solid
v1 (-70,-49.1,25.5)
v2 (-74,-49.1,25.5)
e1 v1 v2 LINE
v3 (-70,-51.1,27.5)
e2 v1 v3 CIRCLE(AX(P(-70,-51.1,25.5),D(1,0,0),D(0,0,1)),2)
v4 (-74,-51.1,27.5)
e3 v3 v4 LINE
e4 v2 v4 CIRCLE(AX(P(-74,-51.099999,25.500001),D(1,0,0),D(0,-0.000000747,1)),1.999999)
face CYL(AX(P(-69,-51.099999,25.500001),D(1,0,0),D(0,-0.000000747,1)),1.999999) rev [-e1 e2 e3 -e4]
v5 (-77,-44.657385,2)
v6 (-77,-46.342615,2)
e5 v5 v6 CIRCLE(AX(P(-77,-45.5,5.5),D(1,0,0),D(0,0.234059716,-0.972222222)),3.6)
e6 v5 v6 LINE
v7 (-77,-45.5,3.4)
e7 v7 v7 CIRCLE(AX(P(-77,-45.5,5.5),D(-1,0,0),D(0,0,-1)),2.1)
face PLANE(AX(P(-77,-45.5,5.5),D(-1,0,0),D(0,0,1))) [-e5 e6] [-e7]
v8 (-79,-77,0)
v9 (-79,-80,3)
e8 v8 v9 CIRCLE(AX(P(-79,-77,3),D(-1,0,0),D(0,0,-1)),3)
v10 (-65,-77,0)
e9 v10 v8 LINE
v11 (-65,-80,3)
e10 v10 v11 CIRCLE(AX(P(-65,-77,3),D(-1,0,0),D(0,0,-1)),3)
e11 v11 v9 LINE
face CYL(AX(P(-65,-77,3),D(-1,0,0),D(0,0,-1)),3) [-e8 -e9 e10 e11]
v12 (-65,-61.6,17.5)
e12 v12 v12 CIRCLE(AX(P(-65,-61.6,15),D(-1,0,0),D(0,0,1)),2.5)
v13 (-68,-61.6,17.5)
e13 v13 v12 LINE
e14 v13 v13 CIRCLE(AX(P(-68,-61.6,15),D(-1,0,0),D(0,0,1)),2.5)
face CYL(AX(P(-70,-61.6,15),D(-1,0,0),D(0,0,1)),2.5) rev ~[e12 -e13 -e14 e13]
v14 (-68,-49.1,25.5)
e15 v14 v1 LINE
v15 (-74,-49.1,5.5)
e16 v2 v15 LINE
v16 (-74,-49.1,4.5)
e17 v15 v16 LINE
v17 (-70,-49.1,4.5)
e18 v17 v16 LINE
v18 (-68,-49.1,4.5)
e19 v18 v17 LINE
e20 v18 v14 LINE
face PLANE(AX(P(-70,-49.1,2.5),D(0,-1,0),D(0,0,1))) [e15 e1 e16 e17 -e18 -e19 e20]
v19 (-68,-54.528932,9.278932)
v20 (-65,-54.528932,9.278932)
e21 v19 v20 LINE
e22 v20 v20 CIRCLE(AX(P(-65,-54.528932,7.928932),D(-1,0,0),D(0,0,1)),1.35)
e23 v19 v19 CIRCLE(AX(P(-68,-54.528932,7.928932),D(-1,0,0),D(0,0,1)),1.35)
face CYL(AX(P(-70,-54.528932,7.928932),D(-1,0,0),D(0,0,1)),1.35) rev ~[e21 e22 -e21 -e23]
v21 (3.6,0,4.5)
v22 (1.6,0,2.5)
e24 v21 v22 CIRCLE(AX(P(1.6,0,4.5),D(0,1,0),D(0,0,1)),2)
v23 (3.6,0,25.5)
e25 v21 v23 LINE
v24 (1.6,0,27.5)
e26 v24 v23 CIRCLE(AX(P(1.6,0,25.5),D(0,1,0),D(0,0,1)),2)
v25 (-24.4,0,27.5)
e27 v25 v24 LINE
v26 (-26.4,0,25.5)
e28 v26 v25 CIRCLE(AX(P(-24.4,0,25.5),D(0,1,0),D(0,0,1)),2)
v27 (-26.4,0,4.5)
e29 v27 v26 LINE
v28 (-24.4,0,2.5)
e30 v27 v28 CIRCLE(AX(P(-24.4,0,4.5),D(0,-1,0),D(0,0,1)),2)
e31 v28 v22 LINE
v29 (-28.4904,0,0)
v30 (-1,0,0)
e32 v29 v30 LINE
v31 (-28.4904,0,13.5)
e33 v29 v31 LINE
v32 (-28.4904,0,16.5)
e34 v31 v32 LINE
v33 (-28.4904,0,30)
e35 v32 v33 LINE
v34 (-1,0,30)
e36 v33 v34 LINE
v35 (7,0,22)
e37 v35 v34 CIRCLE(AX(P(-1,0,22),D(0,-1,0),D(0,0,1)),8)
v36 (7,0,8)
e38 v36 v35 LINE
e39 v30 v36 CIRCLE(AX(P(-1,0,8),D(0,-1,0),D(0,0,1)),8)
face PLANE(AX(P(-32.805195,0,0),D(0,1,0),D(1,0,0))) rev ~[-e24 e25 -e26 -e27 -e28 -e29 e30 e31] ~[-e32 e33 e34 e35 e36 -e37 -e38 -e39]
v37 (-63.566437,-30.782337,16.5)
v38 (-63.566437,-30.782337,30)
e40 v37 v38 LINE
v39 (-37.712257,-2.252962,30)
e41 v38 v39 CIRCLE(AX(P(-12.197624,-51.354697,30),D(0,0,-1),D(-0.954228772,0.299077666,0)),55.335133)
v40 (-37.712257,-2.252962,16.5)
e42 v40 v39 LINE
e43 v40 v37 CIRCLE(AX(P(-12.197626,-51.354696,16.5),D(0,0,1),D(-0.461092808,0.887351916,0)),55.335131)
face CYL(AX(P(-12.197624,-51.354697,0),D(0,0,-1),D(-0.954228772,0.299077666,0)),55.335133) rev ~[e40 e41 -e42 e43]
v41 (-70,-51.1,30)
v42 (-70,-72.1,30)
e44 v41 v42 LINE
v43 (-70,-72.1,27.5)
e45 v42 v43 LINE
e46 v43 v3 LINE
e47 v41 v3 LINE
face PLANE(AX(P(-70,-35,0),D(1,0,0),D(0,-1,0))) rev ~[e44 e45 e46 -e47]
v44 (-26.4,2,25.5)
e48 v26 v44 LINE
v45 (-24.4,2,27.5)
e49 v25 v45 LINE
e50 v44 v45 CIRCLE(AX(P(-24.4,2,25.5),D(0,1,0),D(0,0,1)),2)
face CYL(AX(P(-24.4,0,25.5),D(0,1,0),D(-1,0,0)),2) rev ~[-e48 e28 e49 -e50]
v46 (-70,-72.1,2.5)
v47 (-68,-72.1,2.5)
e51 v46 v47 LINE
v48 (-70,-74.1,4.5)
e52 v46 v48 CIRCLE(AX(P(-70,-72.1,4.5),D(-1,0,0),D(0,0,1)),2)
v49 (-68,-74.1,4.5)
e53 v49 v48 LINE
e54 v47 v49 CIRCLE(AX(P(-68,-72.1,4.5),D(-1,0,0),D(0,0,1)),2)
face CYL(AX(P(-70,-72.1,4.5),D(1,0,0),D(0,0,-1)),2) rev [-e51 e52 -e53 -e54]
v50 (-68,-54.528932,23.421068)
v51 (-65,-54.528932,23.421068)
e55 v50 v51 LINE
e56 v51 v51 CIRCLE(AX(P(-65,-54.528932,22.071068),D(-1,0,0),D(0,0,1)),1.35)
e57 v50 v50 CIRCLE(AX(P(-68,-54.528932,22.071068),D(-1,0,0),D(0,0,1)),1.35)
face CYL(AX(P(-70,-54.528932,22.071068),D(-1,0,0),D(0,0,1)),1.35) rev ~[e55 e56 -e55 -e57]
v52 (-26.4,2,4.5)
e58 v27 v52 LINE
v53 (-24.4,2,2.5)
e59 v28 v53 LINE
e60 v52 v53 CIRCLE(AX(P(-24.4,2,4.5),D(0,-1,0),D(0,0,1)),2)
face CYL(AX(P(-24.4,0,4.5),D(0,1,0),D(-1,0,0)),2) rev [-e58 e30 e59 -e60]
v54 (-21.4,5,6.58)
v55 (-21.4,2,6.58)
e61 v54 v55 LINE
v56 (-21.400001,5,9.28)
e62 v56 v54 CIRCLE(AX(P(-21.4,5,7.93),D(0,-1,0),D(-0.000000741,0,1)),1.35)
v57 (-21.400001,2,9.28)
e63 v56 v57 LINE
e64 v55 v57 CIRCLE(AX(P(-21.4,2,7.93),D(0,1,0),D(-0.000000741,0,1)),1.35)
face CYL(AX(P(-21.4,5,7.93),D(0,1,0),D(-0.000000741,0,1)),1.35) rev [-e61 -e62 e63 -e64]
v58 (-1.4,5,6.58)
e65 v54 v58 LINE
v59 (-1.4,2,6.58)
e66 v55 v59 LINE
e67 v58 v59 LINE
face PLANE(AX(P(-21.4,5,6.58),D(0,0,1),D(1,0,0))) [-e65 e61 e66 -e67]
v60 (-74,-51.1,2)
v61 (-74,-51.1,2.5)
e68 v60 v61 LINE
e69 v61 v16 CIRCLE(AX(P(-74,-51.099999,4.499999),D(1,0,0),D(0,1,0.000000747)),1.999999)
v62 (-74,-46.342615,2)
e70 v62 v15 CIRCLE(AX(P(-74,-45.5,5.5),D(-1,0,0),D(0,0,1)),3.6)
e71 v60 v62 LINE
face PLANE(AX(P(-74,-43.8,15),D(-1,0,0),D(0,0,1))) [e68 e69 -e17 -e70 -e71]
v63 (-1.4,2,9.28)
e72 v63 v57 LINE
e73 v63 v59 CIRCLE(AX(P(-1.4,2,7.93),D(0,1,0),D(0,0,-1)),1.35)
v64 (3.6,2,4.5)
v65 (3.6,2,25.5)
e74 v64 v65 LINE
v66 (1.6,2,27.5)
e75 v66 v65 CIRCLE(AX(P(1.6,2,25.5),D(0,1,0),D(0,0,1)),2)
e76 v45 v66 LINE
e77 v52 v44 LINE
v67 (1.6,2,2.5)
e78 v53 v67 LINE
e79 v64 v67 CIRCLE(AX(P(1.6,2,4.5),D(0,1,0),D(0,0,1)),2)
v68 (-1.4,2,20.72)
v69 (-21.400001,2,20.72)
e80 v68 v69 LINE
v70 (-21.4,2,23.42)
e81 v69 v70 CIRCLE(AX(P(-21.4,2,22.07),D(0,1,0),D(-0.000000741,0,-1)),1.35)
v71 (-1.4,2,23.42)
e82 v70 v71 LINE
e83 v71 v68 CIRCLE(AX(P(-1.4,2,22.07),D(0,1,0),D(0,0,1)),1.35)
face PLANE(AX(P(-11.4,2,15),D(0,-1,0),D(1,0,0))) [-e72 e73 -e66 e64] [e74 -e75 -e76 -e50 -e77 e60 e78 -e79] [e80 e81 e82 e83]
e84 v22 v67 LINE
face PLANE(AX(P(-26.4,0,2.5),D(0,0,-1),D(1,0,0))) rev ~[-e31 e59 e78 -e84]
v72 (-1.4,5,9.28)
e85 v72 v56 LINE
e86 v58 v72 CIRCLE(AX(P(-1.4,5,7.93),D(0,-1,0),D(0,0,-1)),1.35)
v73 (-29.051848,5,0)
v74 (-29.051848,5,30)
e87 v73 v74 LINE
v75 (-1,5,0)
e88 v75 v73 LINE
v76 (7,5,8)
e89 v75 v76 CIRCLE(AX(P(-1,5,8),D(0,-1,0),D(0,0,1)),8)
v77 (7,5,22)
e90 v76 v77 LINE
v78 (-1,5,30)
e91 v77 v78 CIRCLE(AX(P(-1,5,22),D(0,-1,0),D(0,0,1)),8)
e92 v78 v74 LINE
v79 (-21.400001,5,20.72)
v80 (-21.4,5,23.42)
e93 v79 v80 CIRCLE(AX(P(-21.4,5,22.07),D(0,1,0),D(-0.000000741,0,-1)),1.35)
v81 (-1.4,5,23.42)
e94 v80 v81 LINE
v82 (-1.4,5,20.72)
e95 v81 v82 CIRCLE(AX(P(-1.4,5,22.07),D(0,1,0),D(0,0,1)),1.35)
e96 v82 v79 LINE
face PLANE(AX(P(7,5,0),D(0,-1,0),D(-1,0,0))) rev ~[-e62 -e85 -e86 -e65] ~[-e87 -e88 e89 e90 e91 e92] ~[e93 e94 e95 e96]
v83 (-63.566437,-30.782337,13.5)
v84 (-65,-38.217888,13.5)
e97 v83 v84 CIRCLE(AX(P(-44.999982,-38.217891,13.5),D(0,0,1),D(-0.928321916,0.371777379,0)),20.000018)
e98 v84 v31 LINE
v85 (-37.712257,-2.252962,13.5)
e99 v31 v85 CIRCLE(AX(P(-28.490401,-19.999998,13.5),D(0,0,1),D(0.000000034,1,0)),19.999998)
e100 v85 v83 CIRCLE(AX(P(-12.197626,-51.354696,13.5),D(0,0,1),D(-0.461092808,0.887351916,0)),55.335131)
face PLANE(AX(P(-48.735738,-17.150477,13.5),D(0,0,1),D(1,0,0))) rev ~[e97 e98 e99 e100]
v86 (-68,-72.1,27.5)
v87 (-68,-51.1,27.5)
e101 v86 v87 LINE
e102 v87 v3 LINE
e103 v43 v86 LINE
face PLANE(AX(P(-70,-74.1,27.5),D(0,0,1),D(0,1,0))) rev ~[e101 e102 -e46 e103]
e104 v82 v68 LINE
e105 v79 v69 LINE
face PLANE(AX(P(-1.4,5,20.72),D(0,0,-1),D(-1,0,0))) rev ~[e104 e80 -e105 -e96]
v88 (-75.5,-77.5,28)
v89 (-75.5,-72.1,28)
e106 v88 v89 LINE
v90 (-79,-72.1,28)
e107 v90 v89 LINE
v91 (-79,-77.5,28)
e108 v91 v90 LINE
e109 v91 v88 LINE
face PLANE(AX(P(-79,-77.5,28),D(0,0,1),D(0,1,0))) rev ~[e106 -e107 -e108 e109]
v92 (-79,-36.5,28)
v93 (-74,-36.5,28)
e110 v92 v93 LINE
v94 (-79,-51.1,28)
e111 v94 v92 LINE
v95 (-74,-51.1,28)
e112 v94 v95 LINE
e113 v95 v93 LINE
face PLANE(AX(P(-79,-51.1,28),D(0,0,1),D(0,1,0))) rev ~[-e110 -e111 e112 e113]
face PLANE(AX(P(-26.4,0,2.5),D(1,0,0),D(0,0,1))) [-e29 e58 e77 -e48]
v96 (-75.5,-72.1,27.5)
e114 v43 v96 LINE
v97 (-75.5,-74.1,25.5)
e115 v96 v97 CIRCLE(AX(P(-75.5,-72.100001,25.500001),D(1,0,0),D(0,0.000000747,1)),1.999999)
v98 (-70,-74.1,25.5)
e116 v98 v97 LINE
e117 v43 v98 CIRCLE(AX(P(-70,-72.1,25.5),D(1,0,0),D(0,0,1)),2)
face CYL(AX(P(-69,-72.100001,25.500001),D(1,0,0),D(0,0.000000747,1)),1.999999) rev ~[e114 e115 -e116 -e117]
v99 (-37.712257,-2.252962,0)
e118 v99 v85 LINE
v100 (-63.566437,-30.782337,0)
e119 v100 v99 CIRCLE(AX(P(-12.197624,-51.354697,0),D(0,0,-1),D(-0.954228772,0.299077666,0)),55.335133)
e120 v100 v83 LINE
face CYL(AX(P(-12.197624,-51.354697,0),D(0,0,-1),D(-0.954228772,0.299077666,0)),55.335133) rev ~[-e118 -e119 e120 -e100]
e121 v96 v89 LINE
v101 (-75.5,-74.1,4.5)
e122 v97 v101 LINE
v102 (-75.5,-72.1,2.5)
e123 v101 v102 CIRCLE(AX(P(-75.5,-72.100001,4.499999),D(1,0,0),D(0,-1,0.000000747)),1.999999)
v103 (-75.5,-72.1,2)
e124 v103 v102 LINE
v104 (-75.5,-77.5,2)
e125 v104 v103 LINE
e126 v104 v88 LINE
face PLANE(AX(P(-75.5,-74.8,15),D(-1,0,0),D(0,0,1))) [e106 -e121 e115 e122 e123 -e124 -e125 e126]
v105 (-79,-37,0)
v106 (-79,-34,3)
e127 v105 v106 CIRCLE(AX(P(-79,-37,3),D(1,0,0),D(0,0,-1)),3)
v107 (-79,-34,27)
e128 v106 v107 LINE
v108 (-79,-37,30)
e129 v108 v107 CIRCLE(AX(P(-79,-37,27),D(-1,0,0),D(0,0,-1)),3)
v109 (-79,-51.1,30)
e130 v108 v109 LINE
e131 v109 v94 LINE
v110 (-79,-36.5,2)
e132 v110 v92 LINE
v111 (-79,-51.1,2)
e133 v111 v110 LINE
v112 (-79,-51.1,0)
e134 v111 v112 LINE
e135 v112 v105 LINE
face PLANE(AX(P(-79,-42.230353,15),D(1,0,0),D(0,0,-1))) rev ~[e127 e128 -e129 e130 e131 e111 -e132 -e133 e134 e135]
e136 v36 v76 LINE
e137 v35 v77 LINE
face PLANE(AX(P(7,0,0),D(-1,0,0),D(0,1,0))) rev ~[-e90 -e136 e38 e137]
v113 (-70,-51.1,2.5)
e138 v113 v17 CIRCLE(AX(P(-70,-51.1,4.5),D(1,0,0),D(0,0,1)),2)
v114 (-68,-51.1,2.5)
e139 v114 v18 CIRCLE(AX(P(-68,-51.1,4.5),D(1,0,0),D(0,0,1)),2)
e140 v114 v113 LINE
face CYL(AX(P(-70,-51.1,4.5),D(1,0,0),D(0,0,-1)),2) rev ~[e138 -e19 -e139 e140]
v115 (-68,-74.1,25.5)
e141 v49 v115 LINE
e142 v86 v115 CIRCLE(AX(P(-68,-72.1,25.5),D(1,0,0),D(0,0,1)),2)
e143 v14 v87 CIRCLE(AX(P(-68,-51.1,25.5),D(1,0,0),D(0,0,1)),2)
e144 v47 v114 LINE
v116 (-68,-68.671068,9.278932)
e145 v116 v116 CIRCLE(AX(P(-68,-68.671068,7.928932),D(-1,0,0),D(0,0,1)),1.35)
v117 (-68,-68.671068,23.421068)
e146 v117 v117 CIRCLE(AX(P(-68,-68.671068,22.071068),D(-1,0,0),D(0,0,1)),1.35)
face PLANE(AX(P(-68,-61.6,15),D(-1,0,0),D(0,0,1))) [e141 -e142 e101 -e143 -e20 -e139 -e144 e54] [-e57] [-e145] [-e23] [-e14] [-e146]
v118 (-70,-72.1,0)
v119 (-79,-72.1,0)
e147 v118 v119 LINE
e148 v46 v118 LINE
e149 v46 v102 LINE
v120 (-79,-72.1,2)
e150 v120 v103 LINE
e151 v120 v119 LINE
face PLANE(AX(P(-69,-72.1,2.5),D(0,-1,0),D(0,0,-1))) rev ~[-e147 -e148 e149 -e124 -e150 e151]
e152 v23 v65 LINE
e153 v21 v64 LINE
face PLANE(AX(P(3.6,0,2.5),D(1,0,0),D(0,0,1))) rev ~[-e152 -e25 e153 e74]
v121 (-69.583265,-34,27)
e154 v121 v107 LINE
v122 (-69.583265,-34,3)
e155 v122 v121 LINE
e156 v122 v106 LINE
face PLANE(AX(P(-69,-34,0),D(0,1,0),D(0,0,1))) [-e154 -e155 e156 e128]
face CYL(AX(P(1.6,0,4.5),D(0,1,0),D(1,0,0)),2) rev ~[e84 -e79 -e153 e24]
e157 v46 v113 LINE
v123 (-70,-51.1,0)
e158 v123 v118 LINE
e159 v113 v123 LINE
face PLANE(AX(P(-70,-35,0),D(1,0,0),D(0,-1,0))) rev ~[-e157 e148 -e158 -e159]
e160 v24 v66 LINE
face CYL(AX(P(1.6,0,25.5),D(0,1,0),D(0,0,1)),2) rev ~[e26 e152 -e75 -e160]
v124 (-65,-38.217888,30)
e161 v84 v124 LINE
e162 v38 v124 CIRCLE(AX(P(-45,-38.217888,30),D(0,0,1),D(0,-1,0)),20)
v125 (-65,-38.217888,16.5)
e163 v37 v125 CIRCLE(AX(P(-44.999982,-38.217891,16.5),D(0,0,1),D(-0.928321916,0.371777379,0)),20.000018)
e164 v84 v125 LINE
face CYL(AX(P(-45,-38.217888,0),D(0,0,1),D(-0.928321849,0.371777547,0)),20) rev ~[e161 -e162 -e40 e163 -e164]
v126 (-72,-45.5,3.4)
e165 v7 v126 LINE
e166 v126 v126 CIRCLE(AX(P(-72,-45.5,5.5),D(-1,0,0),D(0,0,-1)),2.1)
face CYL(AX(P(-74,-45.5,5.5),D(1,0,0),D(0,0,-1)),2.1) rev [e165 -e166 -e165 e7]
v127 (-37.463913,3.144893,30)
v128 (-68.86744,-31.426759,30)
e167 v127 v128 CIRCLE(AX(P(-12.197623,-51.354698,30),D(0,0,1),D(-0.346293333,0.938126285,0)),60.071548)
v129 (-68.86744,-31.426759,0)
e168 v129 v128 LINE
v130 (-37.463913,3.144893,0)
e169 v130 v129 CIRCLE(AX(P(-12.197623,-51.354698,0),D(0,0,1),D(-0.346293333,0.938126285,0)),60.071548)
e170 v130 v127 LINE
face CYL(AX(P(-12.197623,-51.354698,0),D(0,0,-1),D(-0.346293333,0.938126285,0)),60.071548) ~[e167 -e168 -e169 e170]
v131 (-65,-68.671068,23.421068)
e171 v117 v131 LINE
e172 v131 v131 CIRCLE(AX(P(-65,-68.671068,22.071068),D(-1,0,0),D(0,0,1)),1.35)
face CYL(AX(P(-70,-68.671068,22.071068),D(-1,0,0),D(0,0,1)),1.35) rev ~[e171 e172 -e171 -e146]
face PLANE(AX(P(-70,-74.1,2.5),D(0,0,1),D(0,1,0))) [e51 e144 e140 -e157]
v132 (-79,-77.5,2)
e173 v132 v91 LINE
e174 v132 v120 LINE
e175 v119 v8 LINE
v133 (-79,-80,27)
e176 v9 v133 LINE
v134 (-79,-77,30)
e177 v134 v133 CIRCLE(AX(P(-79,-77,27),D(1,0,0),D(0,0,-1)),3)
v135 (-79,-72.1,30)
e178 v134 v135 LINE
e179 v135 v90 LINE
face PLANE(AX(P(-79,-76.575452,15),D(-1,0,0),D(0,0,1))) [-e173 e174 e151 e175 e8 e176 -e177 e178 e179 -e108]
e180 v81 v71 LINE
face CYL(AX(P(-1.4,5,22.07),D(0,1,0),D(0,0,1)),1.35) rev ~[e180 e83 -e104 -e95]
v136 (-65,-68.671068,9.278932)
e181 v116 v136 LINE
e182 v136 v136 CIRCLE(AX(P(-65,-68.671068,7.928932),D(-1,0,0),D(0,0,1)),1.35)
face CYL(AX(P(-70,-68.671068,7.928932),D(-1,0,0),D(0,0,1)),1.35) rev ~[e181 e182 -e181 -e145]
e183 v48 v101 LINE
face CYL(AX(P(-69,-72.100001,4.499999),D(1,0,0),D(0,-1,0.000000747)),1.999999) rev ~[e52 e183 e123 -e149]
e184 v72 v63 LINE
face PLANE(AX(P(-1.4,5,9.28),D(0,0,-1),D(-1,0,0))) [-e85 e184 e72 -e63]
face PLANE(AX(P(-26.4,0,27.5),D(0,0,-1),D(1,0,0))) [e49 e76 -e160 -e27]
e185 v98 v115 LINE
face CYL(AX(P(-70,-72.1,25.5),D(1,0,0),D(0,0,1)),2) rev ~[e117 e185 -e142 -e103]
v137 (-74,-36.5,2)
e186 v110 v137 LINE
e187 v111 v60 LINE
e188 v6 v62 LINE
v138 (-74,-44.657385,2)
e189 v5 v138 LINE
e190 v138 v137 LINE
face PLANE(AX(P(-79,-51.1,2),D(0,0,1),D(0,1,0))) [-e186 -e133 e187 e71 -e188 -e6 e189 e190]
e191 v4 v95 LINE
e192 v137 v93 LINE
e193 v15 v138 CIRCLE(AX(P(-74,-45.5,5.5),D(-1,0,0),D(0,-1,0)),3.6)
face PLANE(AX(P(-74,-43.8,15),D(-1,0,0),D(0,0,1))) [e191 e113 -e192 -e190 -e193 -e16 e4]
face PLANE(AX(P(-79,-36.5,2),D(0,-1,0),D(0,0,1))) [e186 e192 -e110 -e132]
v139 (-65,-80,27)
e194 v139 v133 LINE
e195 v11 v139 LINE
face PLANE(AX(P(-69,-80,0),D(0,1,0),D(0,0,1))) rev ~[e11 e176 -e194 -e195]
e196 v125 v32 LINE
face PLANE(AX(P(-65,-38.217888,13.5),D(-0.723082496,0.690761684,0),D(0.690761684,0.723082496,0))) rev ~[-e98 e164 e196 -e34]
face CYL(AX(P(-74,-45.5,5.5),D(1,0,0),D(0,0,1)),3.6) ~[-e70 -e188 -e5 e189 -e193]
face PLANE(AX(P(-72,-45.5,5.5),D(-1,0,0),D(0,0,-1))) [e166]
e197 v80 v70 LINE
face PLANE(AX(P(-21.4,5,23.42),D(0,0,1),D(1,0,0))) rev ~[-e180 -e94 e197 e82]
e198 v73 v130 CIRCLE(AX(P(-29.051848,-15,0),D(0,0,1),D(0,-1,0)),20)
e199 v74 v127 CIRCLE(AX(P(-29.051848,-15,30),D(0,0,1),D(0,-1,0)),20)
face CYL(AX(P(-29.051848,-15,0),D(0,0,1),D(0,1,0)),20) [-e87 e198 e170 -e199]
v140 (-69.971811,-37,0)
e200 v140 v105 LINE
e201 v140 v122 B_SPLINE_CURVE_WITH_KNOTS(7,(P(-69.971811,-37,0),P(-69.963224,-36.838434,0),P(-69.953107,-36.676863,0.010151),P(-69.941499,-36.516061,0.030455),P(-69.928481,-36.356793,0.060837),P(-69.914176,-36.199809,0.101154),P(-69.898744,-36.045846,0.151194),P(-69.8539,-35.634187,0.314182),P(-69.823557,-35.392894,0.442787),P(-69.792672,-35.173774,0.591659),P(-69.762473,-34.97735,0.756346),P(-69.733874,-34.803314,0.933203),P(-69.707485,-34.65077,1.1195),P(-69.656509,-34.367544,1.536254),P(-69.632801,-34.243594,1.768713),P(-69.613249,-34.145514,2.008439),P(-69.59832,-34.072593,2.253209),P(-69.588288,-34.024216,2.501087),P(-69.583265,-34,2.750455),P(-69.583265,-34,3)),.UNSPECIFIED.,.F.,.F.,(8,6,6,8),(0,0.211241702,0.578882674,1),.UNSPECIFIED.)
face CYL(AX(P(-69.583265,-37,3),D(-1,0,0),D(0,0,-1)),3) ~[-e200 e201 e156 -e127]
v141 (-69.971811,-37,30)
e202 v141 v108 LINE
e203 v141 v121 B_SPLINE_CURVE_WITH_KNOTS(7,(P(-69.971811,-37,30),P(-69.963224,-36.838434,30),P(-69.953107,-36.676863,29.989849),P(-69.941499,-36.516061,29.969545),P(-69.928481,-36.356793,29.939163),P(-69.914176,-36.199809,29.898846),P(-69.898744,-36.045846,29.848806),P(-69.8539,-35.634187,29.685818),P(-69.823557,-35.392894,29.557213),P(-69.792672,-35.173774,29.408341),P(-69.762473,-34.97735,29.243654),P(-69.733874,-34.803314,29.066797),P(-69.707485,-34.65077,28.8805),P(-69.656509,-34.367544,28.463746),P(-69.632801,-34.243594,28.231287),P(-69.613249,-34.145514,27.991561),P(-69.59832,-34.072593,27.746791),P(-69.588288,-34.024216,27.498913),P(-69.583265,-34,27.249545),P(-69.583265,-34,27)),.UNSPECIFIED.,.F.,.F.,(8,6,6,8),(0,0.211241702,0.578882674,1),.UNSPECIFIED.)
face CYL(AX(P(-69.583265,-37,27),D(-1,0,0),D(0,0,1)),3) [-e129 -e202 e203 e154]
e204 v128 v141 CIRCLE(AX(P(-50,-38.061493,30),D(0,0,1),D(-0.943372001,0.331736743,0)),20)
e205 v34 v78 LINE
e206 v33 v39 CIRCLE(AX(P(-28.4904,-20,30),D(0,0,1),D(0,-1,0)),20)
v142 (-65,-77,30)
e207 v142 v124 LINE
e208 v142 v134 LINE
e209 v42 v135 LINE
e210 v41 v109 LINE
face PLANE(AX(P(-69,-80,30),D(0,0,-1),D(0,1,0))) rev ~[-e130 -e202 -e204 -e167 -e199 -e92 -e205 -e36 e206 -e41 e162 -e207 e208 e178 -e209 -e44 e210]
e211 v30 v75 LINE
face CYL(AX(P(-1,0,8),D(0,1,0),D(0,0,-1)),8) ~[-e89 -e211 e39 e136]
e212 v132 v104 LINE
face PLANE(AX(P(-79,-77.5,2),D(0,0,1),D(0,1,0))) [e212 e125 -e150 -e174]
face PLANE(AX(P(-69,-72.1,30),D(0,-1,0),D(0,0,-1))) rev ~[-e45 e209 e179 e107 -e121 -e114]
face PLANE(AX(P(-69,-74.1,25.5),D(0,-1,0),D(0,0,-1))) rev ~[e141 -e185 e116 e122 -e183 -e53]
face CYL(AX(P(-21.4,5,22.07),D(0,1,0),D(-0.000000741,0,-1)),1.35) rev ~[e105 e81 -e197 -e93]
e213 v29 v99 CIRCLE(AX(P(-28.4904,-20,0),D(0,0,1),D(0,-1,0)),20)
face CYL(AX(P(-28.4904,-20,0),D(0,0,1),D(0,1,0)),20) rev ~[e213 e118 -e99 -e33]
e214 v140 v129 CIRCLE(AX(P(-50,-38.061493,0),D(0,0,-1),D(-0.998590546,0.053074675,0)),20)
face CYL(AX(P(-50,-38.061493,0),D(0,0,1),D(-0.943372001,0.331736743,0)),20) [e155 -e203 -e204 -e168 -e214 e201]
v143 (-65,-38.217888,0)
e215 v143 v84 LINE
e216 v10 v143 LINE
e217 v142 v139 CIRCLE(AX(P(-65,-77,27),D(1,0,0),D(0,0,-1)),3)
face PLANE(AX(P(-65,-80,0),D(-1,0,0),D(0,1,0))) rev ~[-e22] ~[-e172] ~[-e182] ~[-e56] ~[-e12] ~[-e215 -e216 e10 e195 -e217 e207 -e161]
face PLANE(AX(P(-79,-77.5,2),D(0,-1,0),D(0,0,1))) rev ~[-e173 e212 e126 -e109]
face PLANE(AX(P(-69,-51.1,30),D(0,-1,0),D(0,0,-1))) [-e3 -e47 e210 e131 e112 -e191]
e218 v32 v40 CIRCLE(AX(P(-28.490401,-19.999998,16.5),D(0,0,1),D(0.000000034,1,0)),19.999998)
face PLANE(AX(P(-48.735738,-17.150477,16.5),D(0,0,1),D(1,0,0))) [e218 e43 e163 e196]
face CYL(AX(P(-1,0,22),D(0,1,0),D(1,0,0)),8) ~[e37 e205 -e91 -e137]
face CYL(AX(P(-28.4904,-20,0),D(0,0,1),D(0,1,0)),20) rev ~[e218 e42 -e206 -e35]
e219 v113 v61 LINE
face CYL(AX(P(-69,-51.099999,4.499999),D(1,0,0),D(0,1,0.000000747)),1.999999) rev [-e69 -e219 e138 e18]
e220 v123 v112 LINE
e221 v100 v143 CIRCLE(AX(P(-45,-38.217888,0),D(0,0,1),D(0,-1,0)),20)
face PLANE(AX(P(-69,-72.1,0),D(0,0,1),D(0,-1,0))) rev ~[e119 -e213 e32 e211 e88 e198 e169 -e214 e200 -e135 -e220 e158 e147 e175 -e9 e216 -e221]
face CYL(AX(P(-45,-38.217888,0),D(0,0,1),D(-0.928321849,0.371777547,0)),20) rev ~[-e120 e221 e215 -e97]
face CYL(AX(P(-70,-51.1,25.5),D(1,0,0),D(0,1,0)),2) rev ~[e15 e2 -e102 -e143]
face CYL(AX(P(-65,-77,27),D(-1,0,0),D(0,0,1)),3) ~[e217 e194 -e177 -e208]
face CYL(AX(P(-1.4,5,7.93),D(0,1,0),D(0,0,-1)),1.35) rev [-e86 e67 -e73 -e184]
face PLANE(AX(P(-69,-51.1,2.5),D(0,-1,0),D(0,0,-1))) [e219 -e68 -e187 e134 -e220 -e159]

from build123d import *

# Parameters (mm, degrees)
SALIENTE_EXTRUIR1_DEPTH      = 30
CORTAR_EXTRUIR1_DEPTH        = 5
CROQUIS3_W                   = 30
CROQUIS3_H                   = 25
CORTAR_EXTRUIR2_DEPTH        = 2
CROQUIS4_R                   = 1.35
CROQUIS4_R_2                 = 2.5
CORTAR_EXTRUIR3_DEPTH        = 5
CROQUIS5_W                   = 25
CROQUIS5_H                   = 25
CORTAR_EXTRUIR4_DEPTH        = 2
REDONDEO2_R                  = 20
REDONDEO3_R                  = 8
REDONDEO4_R                  = 2
SALIENTE_EXTRUIR2_DEPTH      = 9
SALIENTE_EXTRUIR2_DEPTH_BACK = 1
CORTAR_EXTRUIR5_START        = 9
CROQUIS10_W                  = 26
CROQUIS10_H                  = 14.6
CORTAR_EXTRUIR5_DEPTH        = 5
SALIENTE_EXTRUIR3_START      = 4
CROQUIS12_R                  = 3.6
CROQUIS12_R_2                = 2.1
SALIENTE_EXTRUIR3_DEPTH      = 3
CORTAR_EXTRUIR7_START        = -2
CROQUIS13_R                  = 2.1
CORTAR_EXTRUIR7_DEPTH        = 5
CORTAR_EXTRUIR8_START        = 9
CROQUIS14_W                  = 26
CROQUIS14_H                  = 5.4
CORTAR_EXTRUIR8_DEPTH        = 3.5
REDONDEO5_R                  = 3
SALIENTE_EXTRUIR4_DEPTH      = 1.5
SALIENTE_EXTRUIR4_DEPTH_BACK = 1.5
SALIENTE_EXTRUIR4_START      = -15


with BuildPart() as part:
    # Croquis1 → Saliente-Extruir1 (new body)
    with BuildSketch(Plane.XY):
        with BuildLine():
            Line((7, 0), (7, 5))
            Line((7, 5), (-33, 5))
            ThreePointArc((-33, 5), (-56.296113, -10.563595), (-70, -35))
            Line((-70, -35), (-70, -80))
            Line((-70, -80), (-65, -80))
            Line((-65, -80), (-65, -34.805195))
            ThreePointArc((-65, -34.805195), (-52.819114, -13.779819), (-32.805195, 0))
            Line((-32.805195, 0), (7, 0))
        make_face()
    extrude(amount=SALIENTE_EXTRUIR1_DEPTH)

    # Croquis2 → Cortar-Extruir1 (cut)
    with BuildSketch(Plane(origin=(0, 5, 0), x_dir=(1, 0, 0), z_dir=(0, 1, 0))):
        with BuildLine():
            Line((-11.4, -6.58), (-1.4, -6.58))
            ThreePointArc((-1.4, -6.58), (-0.05, -7.93), (-1.4, -9.28))
            Line((-1.4, -9.28), (-21.400001, -9.28))
            ThreePointArc((-21.400001, -9.28), (-22.75, -7.93), (-21.4, -6.58))
            Line((-21.4, -6.58), (-11.4, -6.58))
        make_face()
        with BuildLine():
            Line((-1.4, -20.72), (-21.400001, -20.72))
            ThreePointArc((-21.400001, -20.72), (-22.75, -22.07), (-21.4, -23.42))
            Line((-21.4, -23.42), (-11.4, -23.42))
            Line((-11.4, -23.42), (-1.4, -23.42))
            ThreePointArc((-1.4, -23.42), (-0.05, -22.07), (-1.4, -20.72))
        make_face()
    extrude(amount=-CORTAR_EXTRUIR1_DEPTH, mode=Mode.SUBTRACT)

    # Croquis3 → Cortar-Extruir2 (cut)
    with BuildSketch(Plane.XZ):
        with Locations((-11.4, 15)):
            Rectangle(CROQUIS3_W, CROQUIS3_H)
    extrude(amount=-CORTAR_EXTRUIR2_DEPTH, mode=Mode.SUBTRACT)

    # Croquis4 → Cortar-Extruir3 (cut)
    with BuildSketch(Plane.ZY.offset(70)):
        with Locations((22.071068, -54.528932)):
            Circle(CROQUIS4_R)
        with Locations((22.071068, -68.671068)):
            Circle(CROQUIS4_R)
        with Locations((7.928932, -68.671068)):
            Circle(CROQUIS4_R)
        with Locations((7.928932, -54.528932)):
            Circle(CROQUIS4_R)
        with Locations((15, -61.6)):
            Circle(CROQUIS4_R_2)
    extrude(amount=-CORTAR_EXTRUIR3_DEPTH, mode=Mode.SUBTRACT)

    # Croquis5 → Cortar-Extruir4 (cut)
    with BuildSketch(Plane.ZY.offset(70)):
        with Locations((15, -61.6)):
            Rectangle(CROQUIS5_W, CROQUIS5_H)
    extrude(amount=-CORTAR_EXTRUIR4_DEPTH, mode=Mode.SUBTRACT)

    # Redondeo2
    redondeo2_edges = [part.edges().sort_by_distance(p)[0] for p in [
        (-32.805195, 0, 15),
        (-65, -34.805195, 15),
        (-70, -35, 15),
        (-33, 5, 15),
    ]]
    fillet(redondeo2_edges, radius=REDONDEO2_R)

    # Redondeo3
    redondeo3_edges = [part.edges().sort_by_distance(p)[0] for p in [
        (7, 2.5, 0),
        (7, 2.5, 30),
    ]]
    fillet(redondeo3_edges, radius=REDONDEO3_R)

    # Redondeo4
    redondeo4_edges = [part.edges().sort_by_distance(p)[0] for p in [
        (-69, -49.1, 27.5),
        (-69, -74.1, 27.5),
        (-69, -74.1, 2.5),
        (-69, -49.1, 2.5),
        (3.6, 1, 27.5),
        (3.6, 1, 2.5),
        (-26.4, 1, 2.5),
        (-26.4, 1, 27.5),
    ]]
    fillet(redondeo4_edges, radius=REDONDEO4_R)

    # Croquis8 → Saliente-Extruir2 (add, two sides: drawn at the far end of the back side and taken through both)
    with BuildSketch(Plane.ZY.offset(70).offset(-SALIENTE_EXTRUIR2_DEPTH_BACK)):
        with BuildLine():
            Line((2.5, -72.1), (0, -72.1))
            Line((0, -72.1), (0, -80))
            Line((0, -80), (30, -80))
            Line((30, -80), (30, -72.1))
            Line((30, -72.1), (27.5, -72.1))
            ThreePointArc((27.5, -72.1), (26.914214, -73.514214), (25.5, -74.1))
            Line((25.5, -74.1), (4.5, -74.1))
            ThreePointArc((4.5, -74.1), (3.085786, -73.514214), (2.5, -72.1))
        make_face()
        with BuildLine():
            Line((2.5, -51.1), (0, -51.1))
            Line((0, -51.1), (0, -34))
            Line((0, -34), (30, -34))
            Line((30, -34), (30, -51.1))
            Line((30, -51.1), (27.5, -51.1))
            ThreePointArc((27.5, -51.1), (26.914214, -49.685786), (25.5, -49.1))
            Line((25.5, -49.1), (4.5, -49.1))
            ThreePointArc((4.5, -49.1), (3.085786, -49.685786), (2.5, -51.1))
        make_face()
    extrude(amount=SALIENTE_EXTRUIR2_DEPTH + SALIENTE_EXTRUIR2_DEPTH_BACK)

    # Croquis10 → Cortar-Extruir5 (cut)
    with BuildSketch(Plane.ZY.offset(70).offset(CORTAR_EXTRUIR5_START)):
        with Locations((15, -43.8)):
            Rectangle(CROQUIS10_W, CROQUIS10_H)
    extrude(amount=-CORTAR_EXTRUIR5_DEPTH, mode=Mode.SUBTRACT)

    # Croquis12 → Saliente-Extruir3 (add)
    with BuildSketch(Plane.ZY.offset(70).offset(SALIENTE_EXTRUIR3_START)):
        with Locations((5.5, -45.5)):
            Circle(CROQUIS12_R)
        with Locations(Location((5.5, -45.5, 0), (0, 0, 180))):
            Circle(CROQUIS12_R_2, mode=Mode.SUBTRACT)
    extrude(amount=SALIENTE_EXTRUIR3_DEPTH)

    # Croquis13 → Cortar-Extruir7 (cut)
    with BuildSketch(Plane.ZY.offset(74).offset(CORTAR_EXTRUIR7_START)):
        with Locations(Location((5.5, -45.5, 0), (0, 0, 180))):
            Circle(CROQUIS13_R)
    extrude(amount=CORTAR_EXTRUIR7_DEPTH, mode=Mode.SUBTRACT)

    # Croquis14 → Cortar-Extruir8 (cut)
    with BuildSketch(Plane.ZY.offset(70).offset(CORTAR_EXTRUIR8_START)):
        with Locations((15, -74.8)):
            Rectangle(CROQUIS14_W, CROQUIS14_H)
    extrude(amount=-CORTAR_EXTRUIR8_DEPTH, mode=Mode.SUBTRACT)

    # Redondeo5
    redondeo5_edges = [part.edges().sort_by_distance(p)[0] for p in [
        (-72, -80, 30),
        (-74.291633, -34, 30),
        (-74.291633, -34, 0),
        (-72, -80, 0),
    ]]
    fillet(redondeo5_edges, radius=REDONDEO5_R)

    # Croquis15 → Saliente-Extruir4 (add, two sides: drawn at the far end of the back side and taken through both)
    with BuildSketch(Plane.XY.offset(30).offset(SALIENTE_EXTRUIR4_START - SALIENTE_EXTRUIR4_DEPTH_BACK)):
        with BuildLine():
            Line((-65, -38.217888), (-28.4904, 0))
            ThreePointArc((-28.4904, 0), (-33.236938, -0.571403), (-37.712257, -2.252962))
            ThreePointArc((-37.712257, -2.252962), (-53.200641, -14.196528), (-63.566437, -30.782337))
            ThreePointArc((-63.566437, -30.782337), (-64.638339, -34.431646), (-65, -38.217888))
        make_face()
    extrude(amount=SALIENTE_EXTRUIR4_DEPTH + SALIENTE_EXTRUIR4_DEPTH_BACK)


solid = part.part
